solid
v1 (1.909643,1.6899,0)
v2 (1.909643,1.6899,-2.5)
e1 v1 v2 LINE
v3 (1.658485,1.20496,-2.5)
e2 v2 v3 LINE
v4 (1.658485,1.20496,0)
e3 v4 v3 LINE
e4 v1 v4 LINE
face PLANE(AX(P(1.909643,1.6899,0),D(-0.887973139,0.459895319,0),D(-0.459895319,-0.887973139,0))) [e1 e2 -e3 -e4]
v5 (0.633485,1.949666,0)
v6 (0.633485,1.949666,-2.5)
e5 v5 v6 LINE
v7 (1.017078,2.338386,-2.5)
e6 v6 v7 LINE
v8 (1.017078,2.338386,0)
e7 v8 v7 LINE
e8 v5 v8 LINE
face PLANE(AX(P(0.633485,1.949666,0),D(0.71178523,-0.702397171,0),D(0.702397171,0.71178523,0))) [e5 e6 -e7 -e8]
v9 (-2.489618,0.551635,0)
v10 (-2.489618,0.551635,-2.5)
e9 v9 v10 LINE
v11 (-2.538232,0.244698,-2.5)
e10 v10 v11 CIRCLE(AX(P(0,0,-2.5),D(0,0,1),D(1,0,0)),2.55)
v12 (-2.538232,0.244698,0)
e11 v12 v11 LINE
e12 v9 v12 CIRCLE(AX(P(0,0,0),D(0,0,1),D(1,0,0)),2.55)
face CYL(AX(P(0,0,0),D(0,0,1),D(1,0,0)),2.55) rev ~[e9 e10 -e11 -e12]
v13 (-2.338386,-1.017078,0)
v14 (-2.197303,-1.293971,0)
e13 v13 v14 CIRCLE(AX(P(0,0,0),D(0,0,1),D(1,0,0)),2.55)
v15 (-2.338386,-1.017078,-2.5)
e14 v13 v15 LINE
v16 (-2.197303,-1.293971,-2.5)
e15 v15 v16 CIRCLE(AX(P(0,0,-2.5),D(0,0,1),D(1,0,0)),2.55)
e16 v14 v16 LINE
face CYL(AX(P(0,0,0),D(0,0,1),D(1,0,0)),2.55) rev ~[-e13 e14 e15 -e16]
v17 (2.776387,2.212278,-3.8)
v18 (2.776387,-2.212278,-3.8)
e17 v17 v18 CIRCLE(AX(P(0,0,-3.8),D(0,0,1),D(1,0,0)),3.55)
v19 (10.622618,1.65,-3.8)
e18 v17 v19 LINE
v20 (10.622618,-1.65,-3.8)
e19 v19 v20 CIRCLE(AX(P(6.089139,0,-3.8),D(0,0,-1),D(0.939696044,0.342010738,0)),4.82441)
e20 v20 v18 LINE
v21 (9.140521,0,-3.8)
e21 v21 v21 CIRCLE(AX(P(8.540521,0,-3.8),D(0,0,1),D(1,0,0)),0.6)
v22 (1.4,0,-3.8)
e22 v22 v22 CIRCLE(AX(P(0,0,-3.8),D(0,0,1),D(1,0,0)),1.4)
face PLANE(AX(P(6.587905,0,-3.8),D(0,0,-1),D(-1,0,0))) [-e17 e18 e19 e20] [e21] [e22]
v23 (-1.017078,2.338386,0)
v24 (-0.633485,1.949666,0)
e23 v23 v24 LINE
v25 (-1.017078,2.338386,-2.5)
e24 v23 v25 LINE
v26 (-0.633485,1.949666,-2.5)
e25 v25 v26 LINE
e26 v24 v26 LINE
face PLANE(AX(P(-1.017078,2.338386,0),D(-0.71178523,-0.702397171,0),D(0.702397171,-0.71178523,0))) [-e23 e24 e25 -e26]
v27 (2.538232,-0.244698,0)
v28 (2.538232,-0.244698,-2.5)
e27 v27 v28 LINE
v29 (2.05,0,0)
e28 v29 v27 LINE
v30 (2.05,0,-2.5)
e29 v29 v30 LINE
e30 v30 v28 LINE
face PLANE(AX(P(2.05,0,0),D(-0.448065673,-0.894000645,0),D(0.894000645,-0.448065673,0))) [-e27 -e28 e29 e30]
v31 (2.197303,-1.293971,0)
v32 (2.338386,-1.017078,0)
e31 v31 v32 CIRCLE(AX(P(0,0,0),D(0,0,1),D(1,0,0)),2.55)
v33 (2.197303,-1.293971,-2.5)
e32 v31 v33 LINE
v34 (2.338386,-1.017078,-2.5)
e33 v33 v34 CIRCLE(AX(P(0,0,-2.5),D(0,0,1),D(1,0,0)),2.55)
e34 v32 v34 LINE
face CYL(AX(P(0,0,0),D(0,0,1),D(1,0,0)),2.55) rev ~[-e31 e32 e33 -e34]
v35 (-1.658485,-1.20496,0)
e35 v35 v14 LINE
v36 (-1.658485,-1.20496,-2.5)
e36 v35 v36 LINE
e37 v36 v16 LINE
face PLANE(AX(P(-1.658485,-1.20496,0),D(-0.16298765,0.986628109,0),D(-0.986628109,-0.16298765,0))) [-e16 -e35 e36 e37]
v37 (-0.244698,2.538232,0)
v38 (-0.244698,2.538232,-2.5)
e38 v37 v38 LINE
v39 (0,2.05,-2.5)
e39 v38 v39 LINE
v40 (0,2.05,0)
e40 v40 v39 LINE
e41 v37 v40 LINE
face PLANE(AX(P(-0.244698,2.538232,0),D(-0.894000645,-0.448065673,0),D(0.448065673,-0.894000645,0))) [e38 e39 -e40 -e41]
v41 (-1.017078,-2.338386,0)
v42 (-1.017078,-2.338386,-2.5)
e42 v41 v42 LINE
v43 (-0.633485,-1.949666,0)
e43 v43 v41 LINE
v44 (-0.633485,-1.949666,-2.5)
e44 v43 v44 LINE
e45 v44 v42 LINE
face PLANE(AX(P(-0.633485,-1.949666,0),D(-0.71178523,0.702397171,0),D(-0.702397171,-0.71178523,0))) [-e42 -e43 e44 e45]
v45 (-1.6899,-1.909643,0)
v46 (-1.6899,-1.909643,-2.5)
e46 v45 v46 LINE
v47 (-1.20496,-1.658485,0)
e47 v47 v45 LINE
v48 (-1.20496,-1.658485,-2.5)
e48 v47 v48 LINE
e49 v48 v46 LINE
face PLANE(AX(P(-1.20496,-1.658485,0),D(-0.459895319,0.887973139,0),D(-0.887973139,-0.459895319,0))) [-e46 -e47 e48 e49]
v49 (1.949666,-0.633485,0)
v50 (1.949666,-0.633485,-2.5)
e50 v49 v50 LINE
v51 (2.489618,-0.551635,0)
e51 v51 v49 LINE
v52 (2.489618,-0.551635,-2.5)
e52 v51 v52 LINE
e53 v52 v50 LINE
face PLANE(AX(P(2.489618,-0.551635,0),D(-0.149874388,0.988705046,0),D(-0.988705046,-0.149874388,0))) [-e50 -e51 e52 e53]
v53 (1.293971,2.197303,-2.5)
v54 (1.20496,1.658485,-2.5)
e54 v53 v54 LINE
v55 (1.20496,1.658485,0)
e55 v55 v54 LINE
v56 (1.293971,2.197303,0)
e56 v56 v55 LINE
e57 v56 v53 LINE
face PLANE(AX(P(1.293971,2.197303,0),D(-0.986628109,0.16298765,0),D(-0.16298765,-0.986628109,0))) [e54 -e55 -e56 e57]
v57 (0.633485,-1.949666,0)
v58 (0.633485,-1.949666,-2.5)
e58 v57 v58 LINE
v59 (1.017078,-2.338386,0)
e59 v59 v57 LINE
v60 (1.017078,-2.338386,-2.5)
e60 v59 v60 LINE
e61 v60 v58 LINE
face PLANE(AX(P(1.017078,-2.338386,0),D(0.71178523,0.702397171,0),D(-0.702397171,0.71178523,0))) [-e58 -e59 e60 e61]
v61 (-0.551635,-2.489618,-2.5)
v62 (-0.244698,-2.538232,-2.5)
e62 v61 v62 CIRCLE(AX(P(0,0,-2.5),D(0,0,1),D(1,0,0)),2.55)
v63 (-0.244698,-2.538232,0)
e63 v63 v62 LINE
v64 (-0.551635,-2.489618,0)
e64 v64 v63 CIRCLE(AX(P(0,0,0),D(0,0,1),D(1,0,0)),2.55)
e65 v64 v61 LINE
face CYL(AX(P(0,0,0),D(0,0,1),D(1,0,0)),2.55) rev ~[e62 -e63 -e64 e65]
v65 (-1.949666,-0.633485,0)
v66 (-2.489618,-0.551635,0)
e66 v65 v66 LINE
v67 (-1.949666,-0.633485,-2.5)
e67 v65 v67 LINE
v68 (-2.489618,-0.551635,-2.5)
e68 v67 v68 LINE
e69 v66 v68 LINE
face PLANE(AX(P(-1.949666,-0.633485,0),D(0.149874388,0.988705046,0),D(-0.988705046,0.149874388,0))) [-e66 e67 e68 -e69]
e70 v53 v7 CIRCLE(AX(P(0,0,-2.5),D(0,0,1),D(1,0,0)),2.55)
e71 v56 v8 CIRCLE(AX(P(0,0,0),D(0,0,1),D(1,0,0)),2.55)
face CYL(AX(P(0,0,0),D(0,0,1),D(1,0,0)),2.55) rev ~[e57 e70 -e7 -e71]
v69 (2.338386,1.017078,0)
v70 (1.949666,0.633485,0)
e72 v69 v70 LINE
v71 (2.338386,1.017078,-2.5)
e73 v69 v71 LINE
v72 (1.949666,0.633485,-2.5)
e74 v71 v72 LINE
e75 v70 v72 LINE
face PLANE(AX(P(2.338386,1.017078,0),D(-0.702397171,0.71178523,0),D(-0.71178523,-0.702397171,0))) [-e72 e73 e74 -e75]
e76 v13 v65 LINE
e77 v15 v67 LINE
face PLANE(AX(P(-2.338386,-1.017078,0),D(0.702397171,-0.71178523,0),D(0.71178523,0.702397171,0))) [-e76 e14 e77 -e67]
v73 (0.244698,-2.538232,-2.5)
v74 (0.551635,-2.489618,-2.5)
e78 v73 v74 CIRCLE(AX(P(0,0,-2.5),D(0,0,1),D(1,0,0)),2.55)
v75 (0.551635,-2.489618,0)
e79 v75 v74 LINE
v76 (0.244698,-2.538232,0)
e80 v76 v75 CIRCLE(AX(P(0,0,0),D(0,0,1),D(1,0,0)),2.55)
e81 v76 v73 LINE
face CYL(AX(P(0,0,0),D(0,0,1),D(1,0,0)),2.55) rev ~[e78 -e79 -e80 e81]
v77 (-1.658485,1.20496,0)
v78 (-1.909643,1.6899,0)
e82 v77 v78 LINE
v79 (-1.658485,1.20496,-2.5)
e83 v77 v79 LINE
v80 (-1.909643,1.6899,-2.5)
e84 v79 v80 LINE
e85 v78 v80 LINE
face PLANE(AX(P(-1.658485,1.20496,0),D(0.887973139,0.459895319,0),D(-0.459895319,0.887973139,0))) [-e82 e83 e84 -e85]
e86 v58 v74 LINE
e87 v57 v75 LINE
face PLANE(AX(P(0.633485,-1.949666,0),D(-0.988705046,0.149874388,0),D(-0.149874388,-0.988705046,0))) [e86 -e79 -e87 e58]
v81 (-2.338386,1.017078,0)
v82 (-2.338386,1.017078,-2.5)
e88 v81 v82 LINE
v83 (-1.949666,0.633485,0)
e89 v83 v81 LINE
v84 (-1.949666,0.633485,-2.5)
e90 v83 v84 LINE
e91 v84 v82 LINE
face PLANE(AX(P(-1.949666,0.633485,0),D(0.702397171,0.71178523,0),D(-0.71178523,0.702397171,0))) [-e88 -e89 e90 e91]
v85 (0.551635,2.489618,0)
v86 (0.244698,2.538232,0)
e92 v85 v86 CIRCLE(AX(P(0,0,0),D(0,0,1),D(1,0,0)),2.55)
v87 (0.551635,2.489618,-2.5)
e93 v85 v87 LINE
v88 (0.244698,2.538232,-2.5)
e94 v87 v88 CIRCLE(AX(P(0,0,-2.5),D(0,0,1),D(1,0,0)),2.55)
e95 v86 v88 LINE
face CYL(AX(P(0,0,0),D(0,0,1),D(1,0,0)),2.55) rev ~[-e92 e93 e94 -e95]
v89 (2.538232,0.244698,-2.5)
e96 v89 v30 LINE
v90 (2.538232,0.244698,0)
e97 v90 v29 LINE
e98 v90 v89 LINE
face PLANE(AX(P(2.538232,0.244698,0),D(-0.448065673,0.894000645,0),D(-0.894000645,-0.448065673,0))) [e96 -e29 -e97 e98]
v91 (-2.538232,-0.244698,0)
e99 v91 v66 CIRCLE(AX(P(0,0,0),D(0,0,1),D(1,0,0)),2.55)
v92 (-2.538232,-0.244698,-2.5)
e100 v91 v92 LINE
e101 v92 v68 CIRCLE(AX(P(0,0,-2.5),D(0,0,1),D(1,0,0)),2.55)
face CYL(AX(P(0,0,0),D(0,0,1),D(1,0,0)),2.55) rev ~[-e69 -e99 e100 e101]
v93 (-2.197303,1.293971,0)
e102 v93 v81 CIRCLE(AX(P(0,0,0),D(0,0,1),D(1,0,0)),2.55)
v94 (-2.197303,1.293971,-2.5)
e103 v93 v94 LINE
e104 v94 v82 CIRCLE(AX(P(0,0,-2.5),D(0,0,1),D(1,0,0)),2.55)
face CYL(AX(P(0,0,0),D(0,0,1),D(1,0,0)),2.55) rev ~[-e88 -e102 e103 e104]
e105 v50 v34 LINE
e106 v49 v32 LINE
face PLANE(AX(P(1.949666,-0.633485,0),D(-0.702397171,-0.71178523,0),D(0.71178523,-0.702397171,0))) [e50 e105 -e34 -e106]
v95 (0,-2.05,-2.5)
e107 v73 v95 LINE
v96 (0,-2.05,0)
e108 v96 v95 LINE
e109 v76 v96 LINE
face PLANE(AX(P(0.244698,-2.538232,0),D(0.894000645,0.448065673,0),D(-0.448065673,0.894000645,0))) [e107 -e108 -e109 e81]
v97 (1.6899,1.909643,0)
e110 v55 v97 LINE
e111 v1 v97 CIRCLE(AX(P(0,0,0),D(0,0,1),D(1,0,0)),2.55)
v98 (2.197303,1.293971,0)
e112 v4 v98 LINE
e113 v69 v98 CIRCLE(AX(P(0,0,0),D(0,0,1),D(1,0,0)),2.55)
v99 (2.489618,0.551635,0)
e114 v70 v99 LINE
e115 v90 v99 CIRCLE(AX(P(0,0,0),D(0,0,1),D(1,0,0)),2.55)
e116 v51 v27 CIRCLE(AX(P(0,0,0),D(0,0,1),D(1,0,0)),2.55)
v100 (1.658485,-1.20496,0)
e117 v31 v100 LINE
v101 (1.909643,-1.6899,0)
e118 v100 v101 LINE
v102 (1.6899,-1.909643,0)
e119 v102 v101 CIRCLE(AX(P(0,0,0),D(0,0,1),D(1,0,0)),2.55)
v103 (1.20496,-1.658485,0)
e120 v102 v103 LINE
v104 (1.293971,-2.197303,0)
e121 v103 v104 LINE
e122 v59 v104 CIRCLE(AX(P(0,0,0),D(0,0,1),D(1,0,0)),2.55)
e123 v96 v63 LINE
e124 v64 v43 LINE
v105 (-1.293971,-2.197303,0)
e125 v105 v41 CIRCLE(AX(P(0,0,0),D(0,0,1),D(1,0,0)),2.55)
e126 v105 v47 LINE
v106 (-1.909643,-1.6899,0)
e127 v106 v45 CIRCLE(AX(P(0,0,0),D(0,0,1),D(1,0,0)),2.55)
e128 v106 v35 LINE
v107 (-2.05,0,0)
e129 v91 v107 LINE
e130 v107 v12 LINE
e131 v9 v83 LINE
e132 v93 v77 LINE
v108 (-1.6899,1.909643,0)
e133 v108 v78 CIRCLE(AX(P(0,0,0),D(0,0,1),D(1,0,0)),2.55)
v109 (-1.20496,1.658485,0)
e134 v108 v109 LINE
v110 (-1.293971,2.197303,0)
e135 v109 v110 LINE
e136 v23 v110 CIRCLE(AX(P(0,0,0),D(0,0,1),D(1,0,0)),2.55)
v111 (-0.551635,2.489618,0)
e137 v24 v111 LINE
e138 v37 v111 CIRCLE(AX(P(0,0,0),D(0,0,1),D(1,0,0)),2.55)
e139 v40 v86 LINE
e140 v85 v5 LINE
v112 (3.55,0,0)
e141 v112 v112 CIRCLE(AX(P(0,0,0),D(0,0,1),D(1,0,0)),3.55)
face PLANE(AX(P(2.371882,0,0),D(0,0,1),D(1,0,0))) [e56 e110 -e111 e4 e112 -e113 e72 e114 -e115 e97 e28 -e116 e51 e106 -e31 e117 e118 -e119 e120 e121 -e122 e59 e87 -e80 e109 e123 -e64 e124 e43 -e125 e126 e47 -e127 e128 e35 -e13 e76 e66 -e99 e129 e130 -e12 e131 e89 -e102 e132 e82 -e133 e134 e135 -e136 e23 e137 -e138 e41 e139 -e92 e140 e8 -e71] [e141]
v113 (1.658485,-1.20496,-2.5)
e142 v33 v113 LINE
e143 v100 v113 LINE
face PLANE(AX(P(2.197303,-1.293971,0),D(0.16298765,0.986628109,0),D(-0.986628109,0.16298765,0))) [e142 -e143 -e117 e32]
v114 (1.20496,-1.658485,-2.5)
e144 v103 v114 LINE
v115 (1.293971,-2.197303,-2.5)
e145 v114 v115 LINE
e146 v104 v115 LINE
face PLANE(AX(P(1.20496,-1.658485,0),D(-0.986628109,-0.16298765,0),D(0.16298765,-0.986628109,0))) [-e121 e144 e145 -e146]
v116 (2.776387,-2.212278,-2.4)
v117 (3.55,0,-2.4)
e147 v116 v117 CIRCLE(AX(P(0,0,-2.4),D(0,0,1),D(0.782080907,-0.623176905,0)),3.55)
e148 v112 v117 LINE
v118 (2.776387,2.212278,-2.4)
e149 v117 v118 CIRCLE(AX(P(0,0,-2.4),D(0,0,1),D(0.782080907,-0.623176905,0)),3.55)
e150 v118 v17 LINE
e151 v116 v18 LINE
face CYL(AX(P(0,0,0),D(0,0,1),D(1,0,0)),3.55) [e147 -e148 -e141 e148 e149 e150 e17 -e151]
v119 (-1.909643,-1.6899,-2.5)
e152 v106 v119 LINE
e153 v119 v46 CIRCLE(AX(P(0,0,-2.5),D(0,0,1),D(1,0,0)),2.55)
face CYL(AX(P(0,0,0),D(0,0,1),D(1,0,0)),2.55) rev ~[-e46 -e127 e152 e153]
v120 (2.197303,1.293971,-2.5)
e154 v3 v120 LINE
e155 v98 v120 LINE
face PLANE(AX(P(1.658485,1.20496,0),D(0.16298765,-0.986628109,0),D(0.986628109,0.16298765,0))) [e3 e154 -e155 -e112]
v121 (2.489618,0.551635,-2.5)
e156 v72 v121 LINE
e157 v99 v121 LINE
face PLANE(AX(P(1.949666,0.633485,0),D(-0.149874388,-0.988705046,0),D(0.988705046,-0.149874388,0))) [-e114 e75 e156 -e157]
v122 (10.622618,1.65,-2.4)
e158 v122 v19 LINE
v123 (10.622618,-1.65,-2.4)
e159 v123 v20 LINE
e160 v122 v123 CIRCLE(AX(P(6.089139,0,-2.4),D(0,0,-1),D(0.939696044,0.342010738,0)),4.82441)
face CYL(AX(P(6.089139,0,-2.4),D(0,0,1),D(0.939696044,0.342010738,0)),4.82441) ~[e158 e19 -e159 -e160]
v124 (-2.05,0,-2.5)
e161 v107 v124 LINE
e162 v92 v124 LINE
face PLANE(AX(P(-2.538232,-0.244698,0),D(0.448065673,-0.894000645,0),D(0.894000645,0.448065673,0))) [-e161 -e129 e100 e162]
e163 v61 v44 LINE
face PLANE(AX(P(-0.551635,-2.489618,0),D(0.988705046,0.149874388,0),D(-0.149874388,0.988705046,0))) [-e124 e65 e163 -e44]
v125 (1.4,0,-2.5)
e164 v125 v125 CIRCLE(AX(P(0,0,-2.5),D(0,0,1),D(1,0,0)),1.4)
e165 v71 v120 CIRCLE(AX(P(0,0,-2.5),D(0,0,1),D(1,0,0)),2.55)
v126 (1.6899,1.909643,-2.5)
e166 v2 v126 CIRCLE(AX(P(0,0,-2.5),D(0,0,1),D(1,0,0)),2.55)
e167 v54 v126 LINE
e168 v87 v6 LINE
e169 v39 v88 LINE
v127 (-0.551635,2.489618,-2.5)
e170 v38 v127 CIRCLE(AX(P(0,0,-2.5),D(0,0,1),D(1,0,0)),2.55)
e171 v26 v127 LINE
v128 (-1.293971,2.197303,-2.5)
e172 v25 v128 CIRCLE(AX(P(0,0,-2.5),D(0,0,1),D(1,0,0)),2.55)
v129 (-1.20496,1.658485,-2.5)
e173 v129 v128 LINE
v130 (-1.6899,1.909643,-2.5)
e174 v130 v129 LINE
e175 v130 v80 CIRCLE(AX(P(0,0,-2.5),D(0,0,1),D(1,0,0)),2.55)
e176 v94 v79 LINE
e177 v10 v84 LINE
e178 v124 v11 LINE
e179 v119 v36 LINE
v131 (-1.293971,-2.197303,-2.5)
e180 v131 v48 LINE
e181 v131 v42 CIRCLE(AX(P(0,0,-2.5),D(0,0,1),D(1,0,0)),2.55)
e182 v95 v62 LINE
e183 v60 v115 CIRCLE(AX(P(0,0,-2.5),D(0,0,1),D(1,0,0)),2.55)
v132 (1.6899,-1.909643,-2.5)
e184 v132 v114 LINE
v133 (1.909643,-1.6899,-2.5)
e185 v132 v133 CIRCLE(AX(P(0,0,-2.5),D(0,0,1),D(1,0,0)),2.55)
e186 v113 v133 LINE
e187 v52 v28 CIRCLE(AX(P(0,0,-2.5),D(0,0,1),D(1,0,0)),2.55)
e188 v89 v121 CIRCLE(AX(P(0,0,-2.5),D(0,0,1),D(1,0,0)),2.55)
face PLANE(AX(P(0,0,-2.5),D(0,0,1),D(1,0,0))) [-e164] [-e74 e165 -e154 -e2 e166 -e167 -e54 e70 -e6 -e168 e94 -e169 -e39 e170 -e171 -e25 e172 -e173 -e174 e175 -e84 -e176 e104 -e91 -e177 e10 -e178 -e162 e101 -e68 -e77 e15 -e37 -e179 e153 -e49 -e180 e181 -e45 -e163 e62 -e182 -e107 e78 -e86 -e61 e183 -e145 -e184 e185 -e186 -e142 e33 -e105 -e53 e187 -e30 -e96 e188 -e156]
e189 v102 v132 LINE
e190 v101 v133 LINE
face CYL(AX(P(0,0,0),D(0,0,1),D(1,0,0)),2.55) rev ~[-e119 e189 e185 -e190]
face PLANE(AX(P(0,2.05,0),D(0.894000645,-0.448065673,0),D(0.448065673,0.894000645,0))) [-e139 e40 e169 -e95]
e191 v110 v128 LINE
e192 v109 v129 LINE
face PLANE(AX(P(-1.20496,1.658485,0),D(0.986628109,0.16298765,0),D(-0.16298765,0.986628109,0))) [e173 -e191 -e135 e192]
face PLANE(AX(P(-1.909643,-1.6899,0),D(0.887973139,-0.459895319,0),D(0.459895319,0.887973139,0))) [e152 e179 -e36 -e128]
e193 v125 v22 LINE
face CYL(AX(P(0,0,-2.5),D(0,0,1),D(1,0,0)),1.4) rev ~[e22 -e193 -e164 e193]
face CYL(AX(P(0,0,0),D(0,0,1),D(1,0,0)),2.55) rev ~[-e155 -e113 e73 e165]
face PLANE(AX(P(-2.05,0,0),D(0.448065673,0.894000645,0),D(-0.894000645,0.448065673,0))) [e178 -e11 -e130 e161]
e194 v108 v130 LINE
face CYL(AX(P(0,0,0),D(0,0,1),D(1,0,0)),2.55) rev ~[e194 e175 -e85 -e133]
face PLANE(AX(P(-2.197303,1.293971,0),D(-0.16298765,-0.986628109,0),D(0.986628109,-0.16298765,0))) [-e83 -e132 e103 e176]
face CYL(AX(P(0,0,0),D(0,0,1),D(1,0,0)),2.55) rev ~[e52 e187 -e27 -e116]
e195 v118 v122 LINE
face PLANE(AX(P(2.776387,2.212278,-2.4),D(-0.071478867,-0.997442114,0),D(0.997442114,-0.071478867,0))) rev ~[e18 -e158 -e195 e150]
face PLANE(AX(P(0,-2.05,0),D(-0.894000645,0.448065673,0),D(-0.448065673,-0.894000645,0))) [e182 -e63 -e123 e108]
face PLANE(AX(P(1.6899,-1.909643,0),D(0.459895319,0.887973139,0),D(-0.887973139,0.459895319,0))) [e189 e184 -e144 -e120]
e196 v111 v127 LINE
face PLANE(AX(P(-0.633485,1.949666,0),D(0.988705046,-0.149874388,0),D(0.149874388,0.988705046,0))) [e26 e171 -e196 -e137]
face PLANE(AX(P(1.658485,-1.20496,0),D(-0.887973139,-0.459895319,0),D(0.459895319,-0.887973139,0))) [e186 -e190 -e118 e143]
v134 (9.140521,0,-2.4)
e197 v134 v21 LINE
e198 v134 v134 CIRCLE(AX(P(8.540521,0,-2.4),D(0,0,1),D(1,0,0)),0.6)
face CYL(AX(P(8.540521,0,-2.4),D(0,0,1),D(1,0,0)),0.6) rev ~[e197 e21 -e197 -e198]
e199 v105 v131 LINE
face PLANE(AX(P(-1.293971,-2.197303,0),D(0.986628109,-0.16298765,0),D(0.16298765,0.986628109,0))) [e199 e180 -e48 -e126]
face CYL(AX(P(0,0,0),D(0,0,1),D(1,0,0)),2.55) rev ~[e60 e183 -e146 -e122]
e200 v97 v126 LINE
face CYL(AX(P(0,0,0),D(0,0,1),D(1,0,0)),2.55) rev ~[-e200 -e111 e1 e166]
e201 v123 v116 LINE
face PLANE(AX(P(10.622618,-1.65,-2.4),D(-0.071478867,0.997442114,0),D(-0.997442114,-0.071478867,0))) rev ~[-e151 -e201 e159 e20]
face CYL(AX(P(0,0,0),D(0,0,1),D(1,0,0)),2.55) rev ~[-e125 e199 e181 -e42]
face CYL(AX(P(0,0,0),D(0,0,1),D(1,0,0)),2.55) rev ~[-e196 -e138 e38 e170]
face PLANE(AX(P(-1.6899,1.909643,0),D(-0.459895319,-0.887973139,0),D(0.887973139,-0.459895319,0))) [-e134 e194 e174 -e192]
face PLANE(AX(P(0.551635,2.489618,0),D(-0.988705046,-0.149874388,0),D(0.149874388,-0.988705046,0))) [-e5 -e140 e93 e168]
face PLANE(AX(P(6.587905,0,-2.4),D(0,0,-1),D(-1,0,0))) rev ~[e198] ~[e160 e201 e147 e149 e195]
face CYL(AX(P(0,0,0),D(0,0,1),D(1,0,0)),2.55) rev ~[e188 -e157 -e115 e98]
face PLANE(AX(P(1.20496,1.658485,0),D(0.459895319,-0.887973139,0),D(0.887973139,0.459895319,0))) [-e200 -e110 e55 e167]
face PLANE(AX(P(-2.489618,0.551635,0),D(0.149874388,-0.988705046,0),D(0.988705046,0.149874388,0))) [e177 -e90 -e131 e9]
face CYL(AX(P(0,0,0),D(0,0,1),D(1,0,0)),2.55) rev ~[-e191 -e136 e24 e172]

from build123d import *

# Parameters (mm, degrees)
SKETCH2_R           = 3.55
BOSS_EXTRUDE1_DEPTH = 3.8
BOSS_EXTRUDE2_DEPTH = 1.4
SKETCH5_R           = 2.549999919
CUT_EXTRUDE1_DEPTH  = 2.5
BOSS_EXTRUDE3_DEPTH = 2.5
SKETCH6_R           = 1.4
CUT_EXTRUDE2_DEPTH  = 12.745554295
SKETCH7_R           = 0.6
CUT_EXTRUDE3_DEPTH  = 12.724676785


with BuildPart() as part:
    # Sketch2 → Boss-Extrude1 (new body)
    with BuildSketch(Plane.XY):
        Circle(SKETCH2_R)
    extrude(amount=-BOSS_EXTRUDE1_DEPTH)

    # Sketch4 → Boss-Extrude2 (add)
    with BuildSketch(Plane.XY.offset(-2.4)):
        with BuildLine():
            Line((2.776387215, 2.212277889), (10.622617722, 1.649999976))
            ThreePointArc((10.622617722, 1.649999976), (10.913548722, 0), (10.622617722, -1.649999976))
            Line((10.622617722, -1.649999976), (2.776387215, -2.212277889))
            ThreePointArc((2.776387215, -2.212277889), (3.549999952, 0), (2.776387215, 2.212277889))
        make_face()
    extrude(amount=-BOSS_EXTRUDE2_DEPTH)

    # Sketch5 → Cut-Extrude1 (cut)
    with BuildSketch(Plane.XY):
        Circle(SKETCH5_R)
    extrude(amount=-CUT_EXTRUDE1_DEPTH, mode=Mode.SUBTRACT)

    # Sketch3 → Boss-Extrude3 (add)
    with BuildSketch(Plane.XY):
        with BuildLine():
            Line((-0.244697916, 2.538232164), (0, 2.049999952))
            Line((0, 2.049999952), (0.244697916, 2.538232164))
            ThreePointArc((0.244697916, 2.538232164), (0, 2.549999919), (-0.244697916, 2.538232164))
        make_face()
        with BuildLine():
            Line((0.551635326, 2.489618054), (0.633484824, 1.949665813))
            Line((0.633484824, 1.949665813), (1.017078422, 2.338386424))
            ThreePointArc((1.017078422, 2.338386424), (0.787993311, 2.42519404), (0.551635326, 2.489618054))
        make_face()
        with BuildLine():
            Line((1.29397066, 2.197302783), (1.204959739, 1.6584848))
            Line((1.204959739, 1.6584848), (1.689900206, 1.90964313))
            ThreePointArc((1.689900206, 1.90964313), (1.498852346, 2.06299327), (1.29397066, 2.197302783))
        make_face()
        with BuildLine():
            Line((1.90964313, 1.689900206), (1.6584848, 1.204959739))
            Line((1.6584848, 1.204959739), (2.197302783, 1.29397066))
            ThreePointArc((2.197302783, 1.29397066), (2.06299327, 1.498852346), (1.90964313, 1.689900206))
        make_face()
        with BuildLine():
            Line((2.338386424, 1.017078422), (1.949665813, 0.633484824))
            Line((1.949665813, 0.633484824), (2.489618054, 0.551635326))
            ThreePointArc((2.489618054, 0.551635326), (2.42519404, 0.787993311), (2.338386424, 1.017078422))
        make_face()
        with BuildLine():
            Line((2.538232164, 0.244697916), (2.049999952, 0))
            Line((2.049999952, 0), (2.538232164, -0.244697916))
            ThreePointArc((2.538232164, -0.244697916), (2.549999919, 0), (2.538232164, 0.244697916))
        make_face()
        with BuildLine():
            Line((2.489618054, -0.551635326), (1.949665813, -0.633484824))
            Line((1.949665813, -0.633484824), (2.338386424, -1.017078422))
            ThreePointArc((2.338386424, -1.017078422), (2.42519404, -0.787993311), (2.489618054, -0.551635326))
        make_face()
        with BuildLine():
            Line((2.197302783, -1.29397066), (1.6584848, -1.204959739))
            Line((1.6584848, -1.204959739), (1.90964313, -1.689900206))
            ThreePointArc((1.90964313, -1.689900206), (2.06299327, -1.498852346), (2.197302783, -1.29397066))
        make_face()
        with BuildLine():
            Line((1.689900206, -1.90964313), (1.204959739, -1.6584848))
            Line((1.204959739, -1.6584848), (1.29397066, -2.197302783))
            ThreePointArc((1.29397066, -2.197302783), (1.498852346, -2.06299327), (1.689900206, -1.90964313))
        make_face()
        with BuildLine():
            Line((1.017078422, -2.338386424), (0.633484824, -1.949665813))
            Line((0.633484824, -1.949665813), (0.551635326, -2.489618054))
            ThreePointArc((0.551635326, -2.489618054), (0.787993311, -2.42519404), (1.017078422, -2.338386424))
        make_face()
        with BuildLine():
            Line((0.244697916, -2.538232164), (0, -2.049999952))
            Line((0, -2.049999952), (-0.244697916, -2.538232164))
            ThreePointArc((-0.244697916, -2.538232164), (0, -2.549999919), (0.244697916, -2.538232164))
        make_face()
        with BuildLine():
            Line((-0.551635326, -2.489618054), (-0.633484824, -1.949665813))
            Line((-0.633484824, -1.949665813), (-1.017078422, -2.338386424))
            ThreePointArc((-1.017078422, -2.338386424), (-0.787993311, -2.42519404), (-0.551635326, -2.489618054))
        make_face()
        with BuildLine():
            Line((-1.29397066, -2.197302783), (-1.204959739, -1.6584848))
            Line((-1.204959739, -1.6584848), (-1.689900206, -1.90964313))
            ThreePointArc((-1.689900206, -1.90964313), (-1.498852346, -2.06299327), (-1.29397066, -2.197302783))
        make_face()
        with BuildLine():
            Line((-1.90964313, -1.689900206), (-1.6584848, -1.204959739))
            Line((-1.6584848, -1.204959739), (-2.197302783, -1.29397066))
            ThreePointArc((-2.197302783, -1.29397066), (-2.06299327, -1.498852346), (-1.90964313, -1.689900206))
        make_face()
        with BuildLine():
            Line((-2.338386424, -1.017078422), (-1.949665813, -0.633484824))
            Line((-1.949665813, -0.633484824), (-2.489618054, -0.551635326))
            ThreePointArc((-2.489618054, -0.551635326), (-2.42519404, -0.787993311), (-2.338386424, -1.017078422))
        make_face()
        with BuildLine():
            Line((-2.538232164, -0.244697916), (-2.049999952, 0))
            Line((-2.049999952, 0), (-2.538232164, 0.244697916))
            ThreePointArc((-2.538232164, 0.244697916), (-2.549999919, 0), (-2.538232164, -0.244697916))
        make_face()
        with BuildLine():
            Line((-2.489618054, 0.551635326), (-1.949665813, 0.633484824))
            Line((-1.949665813, 0.633484824), (-2.338386424, 1.017078422))
            ThreePointArc((-2.338386424, 1.017078422), (-2.42519404, 0.787993311), (-2.489618054, 0.551635326))
        make_face()
        with BuildLine():
            Line((-2.197302783, 1.29397066), (-1.6584848, 1.204959739))
            Line((-1.6584848, 1.204959739), (-1.90964313, 1.689900206))
            ThreePointArc((-1.90964313, 1.689900206), (-2.06299327, 1.498852346), (-2.197302783, 1.29397066))
        make_face()
        with BuildLine():
            Line((-1.689900206, 1.90964313), (-1.204959739, 1.6584848))
            Line((-1.204959739, 1.6584848), (-1.29397066, 2.197302783))
            ThreePointArc((-1.29397066, 2.197302783), (-1.498852346, 2.06299327), (-1.689900206, 1.90964313))
        make_face()
        with BuildLine():
            Line((-1.017078422, 2.338386424), (-0.633484824, 1.949665813))
            Line((-0.633484824, 1.949665813), (-0.551635326, 2.489618054))
            ThreePointArc((-0.551635326, 2.489618054), (-0.787993311, 2.42519404), (-1.017078422, 2.338386424))
        make_face()
    extrude(amount=-BOSS_EXTRUDE3_DEPTH)

    # Sketch6 → Cut-Extrude2 (cut, through all)
    with BuildSketch(Plane.XY.offset(-2.5)):
        Circle(SKETCH6_R)
    extrude(amount=-CUT_EXTRUDE2_DEPTH, mode=Mode.SUBTRACT)

    # Sketch7 → Cut-Extrude3 (cut, through all)
    with BuildSketch(Plane.XY.offset(-2.4)):
        with Locations((8.5405208, 0)):
            Circle(SKETCH7_R)
    extrude(amount=-CUT_EXTRUDE3_DEPTH, mode=Mode.SUBTRACT)


solid = part.part
